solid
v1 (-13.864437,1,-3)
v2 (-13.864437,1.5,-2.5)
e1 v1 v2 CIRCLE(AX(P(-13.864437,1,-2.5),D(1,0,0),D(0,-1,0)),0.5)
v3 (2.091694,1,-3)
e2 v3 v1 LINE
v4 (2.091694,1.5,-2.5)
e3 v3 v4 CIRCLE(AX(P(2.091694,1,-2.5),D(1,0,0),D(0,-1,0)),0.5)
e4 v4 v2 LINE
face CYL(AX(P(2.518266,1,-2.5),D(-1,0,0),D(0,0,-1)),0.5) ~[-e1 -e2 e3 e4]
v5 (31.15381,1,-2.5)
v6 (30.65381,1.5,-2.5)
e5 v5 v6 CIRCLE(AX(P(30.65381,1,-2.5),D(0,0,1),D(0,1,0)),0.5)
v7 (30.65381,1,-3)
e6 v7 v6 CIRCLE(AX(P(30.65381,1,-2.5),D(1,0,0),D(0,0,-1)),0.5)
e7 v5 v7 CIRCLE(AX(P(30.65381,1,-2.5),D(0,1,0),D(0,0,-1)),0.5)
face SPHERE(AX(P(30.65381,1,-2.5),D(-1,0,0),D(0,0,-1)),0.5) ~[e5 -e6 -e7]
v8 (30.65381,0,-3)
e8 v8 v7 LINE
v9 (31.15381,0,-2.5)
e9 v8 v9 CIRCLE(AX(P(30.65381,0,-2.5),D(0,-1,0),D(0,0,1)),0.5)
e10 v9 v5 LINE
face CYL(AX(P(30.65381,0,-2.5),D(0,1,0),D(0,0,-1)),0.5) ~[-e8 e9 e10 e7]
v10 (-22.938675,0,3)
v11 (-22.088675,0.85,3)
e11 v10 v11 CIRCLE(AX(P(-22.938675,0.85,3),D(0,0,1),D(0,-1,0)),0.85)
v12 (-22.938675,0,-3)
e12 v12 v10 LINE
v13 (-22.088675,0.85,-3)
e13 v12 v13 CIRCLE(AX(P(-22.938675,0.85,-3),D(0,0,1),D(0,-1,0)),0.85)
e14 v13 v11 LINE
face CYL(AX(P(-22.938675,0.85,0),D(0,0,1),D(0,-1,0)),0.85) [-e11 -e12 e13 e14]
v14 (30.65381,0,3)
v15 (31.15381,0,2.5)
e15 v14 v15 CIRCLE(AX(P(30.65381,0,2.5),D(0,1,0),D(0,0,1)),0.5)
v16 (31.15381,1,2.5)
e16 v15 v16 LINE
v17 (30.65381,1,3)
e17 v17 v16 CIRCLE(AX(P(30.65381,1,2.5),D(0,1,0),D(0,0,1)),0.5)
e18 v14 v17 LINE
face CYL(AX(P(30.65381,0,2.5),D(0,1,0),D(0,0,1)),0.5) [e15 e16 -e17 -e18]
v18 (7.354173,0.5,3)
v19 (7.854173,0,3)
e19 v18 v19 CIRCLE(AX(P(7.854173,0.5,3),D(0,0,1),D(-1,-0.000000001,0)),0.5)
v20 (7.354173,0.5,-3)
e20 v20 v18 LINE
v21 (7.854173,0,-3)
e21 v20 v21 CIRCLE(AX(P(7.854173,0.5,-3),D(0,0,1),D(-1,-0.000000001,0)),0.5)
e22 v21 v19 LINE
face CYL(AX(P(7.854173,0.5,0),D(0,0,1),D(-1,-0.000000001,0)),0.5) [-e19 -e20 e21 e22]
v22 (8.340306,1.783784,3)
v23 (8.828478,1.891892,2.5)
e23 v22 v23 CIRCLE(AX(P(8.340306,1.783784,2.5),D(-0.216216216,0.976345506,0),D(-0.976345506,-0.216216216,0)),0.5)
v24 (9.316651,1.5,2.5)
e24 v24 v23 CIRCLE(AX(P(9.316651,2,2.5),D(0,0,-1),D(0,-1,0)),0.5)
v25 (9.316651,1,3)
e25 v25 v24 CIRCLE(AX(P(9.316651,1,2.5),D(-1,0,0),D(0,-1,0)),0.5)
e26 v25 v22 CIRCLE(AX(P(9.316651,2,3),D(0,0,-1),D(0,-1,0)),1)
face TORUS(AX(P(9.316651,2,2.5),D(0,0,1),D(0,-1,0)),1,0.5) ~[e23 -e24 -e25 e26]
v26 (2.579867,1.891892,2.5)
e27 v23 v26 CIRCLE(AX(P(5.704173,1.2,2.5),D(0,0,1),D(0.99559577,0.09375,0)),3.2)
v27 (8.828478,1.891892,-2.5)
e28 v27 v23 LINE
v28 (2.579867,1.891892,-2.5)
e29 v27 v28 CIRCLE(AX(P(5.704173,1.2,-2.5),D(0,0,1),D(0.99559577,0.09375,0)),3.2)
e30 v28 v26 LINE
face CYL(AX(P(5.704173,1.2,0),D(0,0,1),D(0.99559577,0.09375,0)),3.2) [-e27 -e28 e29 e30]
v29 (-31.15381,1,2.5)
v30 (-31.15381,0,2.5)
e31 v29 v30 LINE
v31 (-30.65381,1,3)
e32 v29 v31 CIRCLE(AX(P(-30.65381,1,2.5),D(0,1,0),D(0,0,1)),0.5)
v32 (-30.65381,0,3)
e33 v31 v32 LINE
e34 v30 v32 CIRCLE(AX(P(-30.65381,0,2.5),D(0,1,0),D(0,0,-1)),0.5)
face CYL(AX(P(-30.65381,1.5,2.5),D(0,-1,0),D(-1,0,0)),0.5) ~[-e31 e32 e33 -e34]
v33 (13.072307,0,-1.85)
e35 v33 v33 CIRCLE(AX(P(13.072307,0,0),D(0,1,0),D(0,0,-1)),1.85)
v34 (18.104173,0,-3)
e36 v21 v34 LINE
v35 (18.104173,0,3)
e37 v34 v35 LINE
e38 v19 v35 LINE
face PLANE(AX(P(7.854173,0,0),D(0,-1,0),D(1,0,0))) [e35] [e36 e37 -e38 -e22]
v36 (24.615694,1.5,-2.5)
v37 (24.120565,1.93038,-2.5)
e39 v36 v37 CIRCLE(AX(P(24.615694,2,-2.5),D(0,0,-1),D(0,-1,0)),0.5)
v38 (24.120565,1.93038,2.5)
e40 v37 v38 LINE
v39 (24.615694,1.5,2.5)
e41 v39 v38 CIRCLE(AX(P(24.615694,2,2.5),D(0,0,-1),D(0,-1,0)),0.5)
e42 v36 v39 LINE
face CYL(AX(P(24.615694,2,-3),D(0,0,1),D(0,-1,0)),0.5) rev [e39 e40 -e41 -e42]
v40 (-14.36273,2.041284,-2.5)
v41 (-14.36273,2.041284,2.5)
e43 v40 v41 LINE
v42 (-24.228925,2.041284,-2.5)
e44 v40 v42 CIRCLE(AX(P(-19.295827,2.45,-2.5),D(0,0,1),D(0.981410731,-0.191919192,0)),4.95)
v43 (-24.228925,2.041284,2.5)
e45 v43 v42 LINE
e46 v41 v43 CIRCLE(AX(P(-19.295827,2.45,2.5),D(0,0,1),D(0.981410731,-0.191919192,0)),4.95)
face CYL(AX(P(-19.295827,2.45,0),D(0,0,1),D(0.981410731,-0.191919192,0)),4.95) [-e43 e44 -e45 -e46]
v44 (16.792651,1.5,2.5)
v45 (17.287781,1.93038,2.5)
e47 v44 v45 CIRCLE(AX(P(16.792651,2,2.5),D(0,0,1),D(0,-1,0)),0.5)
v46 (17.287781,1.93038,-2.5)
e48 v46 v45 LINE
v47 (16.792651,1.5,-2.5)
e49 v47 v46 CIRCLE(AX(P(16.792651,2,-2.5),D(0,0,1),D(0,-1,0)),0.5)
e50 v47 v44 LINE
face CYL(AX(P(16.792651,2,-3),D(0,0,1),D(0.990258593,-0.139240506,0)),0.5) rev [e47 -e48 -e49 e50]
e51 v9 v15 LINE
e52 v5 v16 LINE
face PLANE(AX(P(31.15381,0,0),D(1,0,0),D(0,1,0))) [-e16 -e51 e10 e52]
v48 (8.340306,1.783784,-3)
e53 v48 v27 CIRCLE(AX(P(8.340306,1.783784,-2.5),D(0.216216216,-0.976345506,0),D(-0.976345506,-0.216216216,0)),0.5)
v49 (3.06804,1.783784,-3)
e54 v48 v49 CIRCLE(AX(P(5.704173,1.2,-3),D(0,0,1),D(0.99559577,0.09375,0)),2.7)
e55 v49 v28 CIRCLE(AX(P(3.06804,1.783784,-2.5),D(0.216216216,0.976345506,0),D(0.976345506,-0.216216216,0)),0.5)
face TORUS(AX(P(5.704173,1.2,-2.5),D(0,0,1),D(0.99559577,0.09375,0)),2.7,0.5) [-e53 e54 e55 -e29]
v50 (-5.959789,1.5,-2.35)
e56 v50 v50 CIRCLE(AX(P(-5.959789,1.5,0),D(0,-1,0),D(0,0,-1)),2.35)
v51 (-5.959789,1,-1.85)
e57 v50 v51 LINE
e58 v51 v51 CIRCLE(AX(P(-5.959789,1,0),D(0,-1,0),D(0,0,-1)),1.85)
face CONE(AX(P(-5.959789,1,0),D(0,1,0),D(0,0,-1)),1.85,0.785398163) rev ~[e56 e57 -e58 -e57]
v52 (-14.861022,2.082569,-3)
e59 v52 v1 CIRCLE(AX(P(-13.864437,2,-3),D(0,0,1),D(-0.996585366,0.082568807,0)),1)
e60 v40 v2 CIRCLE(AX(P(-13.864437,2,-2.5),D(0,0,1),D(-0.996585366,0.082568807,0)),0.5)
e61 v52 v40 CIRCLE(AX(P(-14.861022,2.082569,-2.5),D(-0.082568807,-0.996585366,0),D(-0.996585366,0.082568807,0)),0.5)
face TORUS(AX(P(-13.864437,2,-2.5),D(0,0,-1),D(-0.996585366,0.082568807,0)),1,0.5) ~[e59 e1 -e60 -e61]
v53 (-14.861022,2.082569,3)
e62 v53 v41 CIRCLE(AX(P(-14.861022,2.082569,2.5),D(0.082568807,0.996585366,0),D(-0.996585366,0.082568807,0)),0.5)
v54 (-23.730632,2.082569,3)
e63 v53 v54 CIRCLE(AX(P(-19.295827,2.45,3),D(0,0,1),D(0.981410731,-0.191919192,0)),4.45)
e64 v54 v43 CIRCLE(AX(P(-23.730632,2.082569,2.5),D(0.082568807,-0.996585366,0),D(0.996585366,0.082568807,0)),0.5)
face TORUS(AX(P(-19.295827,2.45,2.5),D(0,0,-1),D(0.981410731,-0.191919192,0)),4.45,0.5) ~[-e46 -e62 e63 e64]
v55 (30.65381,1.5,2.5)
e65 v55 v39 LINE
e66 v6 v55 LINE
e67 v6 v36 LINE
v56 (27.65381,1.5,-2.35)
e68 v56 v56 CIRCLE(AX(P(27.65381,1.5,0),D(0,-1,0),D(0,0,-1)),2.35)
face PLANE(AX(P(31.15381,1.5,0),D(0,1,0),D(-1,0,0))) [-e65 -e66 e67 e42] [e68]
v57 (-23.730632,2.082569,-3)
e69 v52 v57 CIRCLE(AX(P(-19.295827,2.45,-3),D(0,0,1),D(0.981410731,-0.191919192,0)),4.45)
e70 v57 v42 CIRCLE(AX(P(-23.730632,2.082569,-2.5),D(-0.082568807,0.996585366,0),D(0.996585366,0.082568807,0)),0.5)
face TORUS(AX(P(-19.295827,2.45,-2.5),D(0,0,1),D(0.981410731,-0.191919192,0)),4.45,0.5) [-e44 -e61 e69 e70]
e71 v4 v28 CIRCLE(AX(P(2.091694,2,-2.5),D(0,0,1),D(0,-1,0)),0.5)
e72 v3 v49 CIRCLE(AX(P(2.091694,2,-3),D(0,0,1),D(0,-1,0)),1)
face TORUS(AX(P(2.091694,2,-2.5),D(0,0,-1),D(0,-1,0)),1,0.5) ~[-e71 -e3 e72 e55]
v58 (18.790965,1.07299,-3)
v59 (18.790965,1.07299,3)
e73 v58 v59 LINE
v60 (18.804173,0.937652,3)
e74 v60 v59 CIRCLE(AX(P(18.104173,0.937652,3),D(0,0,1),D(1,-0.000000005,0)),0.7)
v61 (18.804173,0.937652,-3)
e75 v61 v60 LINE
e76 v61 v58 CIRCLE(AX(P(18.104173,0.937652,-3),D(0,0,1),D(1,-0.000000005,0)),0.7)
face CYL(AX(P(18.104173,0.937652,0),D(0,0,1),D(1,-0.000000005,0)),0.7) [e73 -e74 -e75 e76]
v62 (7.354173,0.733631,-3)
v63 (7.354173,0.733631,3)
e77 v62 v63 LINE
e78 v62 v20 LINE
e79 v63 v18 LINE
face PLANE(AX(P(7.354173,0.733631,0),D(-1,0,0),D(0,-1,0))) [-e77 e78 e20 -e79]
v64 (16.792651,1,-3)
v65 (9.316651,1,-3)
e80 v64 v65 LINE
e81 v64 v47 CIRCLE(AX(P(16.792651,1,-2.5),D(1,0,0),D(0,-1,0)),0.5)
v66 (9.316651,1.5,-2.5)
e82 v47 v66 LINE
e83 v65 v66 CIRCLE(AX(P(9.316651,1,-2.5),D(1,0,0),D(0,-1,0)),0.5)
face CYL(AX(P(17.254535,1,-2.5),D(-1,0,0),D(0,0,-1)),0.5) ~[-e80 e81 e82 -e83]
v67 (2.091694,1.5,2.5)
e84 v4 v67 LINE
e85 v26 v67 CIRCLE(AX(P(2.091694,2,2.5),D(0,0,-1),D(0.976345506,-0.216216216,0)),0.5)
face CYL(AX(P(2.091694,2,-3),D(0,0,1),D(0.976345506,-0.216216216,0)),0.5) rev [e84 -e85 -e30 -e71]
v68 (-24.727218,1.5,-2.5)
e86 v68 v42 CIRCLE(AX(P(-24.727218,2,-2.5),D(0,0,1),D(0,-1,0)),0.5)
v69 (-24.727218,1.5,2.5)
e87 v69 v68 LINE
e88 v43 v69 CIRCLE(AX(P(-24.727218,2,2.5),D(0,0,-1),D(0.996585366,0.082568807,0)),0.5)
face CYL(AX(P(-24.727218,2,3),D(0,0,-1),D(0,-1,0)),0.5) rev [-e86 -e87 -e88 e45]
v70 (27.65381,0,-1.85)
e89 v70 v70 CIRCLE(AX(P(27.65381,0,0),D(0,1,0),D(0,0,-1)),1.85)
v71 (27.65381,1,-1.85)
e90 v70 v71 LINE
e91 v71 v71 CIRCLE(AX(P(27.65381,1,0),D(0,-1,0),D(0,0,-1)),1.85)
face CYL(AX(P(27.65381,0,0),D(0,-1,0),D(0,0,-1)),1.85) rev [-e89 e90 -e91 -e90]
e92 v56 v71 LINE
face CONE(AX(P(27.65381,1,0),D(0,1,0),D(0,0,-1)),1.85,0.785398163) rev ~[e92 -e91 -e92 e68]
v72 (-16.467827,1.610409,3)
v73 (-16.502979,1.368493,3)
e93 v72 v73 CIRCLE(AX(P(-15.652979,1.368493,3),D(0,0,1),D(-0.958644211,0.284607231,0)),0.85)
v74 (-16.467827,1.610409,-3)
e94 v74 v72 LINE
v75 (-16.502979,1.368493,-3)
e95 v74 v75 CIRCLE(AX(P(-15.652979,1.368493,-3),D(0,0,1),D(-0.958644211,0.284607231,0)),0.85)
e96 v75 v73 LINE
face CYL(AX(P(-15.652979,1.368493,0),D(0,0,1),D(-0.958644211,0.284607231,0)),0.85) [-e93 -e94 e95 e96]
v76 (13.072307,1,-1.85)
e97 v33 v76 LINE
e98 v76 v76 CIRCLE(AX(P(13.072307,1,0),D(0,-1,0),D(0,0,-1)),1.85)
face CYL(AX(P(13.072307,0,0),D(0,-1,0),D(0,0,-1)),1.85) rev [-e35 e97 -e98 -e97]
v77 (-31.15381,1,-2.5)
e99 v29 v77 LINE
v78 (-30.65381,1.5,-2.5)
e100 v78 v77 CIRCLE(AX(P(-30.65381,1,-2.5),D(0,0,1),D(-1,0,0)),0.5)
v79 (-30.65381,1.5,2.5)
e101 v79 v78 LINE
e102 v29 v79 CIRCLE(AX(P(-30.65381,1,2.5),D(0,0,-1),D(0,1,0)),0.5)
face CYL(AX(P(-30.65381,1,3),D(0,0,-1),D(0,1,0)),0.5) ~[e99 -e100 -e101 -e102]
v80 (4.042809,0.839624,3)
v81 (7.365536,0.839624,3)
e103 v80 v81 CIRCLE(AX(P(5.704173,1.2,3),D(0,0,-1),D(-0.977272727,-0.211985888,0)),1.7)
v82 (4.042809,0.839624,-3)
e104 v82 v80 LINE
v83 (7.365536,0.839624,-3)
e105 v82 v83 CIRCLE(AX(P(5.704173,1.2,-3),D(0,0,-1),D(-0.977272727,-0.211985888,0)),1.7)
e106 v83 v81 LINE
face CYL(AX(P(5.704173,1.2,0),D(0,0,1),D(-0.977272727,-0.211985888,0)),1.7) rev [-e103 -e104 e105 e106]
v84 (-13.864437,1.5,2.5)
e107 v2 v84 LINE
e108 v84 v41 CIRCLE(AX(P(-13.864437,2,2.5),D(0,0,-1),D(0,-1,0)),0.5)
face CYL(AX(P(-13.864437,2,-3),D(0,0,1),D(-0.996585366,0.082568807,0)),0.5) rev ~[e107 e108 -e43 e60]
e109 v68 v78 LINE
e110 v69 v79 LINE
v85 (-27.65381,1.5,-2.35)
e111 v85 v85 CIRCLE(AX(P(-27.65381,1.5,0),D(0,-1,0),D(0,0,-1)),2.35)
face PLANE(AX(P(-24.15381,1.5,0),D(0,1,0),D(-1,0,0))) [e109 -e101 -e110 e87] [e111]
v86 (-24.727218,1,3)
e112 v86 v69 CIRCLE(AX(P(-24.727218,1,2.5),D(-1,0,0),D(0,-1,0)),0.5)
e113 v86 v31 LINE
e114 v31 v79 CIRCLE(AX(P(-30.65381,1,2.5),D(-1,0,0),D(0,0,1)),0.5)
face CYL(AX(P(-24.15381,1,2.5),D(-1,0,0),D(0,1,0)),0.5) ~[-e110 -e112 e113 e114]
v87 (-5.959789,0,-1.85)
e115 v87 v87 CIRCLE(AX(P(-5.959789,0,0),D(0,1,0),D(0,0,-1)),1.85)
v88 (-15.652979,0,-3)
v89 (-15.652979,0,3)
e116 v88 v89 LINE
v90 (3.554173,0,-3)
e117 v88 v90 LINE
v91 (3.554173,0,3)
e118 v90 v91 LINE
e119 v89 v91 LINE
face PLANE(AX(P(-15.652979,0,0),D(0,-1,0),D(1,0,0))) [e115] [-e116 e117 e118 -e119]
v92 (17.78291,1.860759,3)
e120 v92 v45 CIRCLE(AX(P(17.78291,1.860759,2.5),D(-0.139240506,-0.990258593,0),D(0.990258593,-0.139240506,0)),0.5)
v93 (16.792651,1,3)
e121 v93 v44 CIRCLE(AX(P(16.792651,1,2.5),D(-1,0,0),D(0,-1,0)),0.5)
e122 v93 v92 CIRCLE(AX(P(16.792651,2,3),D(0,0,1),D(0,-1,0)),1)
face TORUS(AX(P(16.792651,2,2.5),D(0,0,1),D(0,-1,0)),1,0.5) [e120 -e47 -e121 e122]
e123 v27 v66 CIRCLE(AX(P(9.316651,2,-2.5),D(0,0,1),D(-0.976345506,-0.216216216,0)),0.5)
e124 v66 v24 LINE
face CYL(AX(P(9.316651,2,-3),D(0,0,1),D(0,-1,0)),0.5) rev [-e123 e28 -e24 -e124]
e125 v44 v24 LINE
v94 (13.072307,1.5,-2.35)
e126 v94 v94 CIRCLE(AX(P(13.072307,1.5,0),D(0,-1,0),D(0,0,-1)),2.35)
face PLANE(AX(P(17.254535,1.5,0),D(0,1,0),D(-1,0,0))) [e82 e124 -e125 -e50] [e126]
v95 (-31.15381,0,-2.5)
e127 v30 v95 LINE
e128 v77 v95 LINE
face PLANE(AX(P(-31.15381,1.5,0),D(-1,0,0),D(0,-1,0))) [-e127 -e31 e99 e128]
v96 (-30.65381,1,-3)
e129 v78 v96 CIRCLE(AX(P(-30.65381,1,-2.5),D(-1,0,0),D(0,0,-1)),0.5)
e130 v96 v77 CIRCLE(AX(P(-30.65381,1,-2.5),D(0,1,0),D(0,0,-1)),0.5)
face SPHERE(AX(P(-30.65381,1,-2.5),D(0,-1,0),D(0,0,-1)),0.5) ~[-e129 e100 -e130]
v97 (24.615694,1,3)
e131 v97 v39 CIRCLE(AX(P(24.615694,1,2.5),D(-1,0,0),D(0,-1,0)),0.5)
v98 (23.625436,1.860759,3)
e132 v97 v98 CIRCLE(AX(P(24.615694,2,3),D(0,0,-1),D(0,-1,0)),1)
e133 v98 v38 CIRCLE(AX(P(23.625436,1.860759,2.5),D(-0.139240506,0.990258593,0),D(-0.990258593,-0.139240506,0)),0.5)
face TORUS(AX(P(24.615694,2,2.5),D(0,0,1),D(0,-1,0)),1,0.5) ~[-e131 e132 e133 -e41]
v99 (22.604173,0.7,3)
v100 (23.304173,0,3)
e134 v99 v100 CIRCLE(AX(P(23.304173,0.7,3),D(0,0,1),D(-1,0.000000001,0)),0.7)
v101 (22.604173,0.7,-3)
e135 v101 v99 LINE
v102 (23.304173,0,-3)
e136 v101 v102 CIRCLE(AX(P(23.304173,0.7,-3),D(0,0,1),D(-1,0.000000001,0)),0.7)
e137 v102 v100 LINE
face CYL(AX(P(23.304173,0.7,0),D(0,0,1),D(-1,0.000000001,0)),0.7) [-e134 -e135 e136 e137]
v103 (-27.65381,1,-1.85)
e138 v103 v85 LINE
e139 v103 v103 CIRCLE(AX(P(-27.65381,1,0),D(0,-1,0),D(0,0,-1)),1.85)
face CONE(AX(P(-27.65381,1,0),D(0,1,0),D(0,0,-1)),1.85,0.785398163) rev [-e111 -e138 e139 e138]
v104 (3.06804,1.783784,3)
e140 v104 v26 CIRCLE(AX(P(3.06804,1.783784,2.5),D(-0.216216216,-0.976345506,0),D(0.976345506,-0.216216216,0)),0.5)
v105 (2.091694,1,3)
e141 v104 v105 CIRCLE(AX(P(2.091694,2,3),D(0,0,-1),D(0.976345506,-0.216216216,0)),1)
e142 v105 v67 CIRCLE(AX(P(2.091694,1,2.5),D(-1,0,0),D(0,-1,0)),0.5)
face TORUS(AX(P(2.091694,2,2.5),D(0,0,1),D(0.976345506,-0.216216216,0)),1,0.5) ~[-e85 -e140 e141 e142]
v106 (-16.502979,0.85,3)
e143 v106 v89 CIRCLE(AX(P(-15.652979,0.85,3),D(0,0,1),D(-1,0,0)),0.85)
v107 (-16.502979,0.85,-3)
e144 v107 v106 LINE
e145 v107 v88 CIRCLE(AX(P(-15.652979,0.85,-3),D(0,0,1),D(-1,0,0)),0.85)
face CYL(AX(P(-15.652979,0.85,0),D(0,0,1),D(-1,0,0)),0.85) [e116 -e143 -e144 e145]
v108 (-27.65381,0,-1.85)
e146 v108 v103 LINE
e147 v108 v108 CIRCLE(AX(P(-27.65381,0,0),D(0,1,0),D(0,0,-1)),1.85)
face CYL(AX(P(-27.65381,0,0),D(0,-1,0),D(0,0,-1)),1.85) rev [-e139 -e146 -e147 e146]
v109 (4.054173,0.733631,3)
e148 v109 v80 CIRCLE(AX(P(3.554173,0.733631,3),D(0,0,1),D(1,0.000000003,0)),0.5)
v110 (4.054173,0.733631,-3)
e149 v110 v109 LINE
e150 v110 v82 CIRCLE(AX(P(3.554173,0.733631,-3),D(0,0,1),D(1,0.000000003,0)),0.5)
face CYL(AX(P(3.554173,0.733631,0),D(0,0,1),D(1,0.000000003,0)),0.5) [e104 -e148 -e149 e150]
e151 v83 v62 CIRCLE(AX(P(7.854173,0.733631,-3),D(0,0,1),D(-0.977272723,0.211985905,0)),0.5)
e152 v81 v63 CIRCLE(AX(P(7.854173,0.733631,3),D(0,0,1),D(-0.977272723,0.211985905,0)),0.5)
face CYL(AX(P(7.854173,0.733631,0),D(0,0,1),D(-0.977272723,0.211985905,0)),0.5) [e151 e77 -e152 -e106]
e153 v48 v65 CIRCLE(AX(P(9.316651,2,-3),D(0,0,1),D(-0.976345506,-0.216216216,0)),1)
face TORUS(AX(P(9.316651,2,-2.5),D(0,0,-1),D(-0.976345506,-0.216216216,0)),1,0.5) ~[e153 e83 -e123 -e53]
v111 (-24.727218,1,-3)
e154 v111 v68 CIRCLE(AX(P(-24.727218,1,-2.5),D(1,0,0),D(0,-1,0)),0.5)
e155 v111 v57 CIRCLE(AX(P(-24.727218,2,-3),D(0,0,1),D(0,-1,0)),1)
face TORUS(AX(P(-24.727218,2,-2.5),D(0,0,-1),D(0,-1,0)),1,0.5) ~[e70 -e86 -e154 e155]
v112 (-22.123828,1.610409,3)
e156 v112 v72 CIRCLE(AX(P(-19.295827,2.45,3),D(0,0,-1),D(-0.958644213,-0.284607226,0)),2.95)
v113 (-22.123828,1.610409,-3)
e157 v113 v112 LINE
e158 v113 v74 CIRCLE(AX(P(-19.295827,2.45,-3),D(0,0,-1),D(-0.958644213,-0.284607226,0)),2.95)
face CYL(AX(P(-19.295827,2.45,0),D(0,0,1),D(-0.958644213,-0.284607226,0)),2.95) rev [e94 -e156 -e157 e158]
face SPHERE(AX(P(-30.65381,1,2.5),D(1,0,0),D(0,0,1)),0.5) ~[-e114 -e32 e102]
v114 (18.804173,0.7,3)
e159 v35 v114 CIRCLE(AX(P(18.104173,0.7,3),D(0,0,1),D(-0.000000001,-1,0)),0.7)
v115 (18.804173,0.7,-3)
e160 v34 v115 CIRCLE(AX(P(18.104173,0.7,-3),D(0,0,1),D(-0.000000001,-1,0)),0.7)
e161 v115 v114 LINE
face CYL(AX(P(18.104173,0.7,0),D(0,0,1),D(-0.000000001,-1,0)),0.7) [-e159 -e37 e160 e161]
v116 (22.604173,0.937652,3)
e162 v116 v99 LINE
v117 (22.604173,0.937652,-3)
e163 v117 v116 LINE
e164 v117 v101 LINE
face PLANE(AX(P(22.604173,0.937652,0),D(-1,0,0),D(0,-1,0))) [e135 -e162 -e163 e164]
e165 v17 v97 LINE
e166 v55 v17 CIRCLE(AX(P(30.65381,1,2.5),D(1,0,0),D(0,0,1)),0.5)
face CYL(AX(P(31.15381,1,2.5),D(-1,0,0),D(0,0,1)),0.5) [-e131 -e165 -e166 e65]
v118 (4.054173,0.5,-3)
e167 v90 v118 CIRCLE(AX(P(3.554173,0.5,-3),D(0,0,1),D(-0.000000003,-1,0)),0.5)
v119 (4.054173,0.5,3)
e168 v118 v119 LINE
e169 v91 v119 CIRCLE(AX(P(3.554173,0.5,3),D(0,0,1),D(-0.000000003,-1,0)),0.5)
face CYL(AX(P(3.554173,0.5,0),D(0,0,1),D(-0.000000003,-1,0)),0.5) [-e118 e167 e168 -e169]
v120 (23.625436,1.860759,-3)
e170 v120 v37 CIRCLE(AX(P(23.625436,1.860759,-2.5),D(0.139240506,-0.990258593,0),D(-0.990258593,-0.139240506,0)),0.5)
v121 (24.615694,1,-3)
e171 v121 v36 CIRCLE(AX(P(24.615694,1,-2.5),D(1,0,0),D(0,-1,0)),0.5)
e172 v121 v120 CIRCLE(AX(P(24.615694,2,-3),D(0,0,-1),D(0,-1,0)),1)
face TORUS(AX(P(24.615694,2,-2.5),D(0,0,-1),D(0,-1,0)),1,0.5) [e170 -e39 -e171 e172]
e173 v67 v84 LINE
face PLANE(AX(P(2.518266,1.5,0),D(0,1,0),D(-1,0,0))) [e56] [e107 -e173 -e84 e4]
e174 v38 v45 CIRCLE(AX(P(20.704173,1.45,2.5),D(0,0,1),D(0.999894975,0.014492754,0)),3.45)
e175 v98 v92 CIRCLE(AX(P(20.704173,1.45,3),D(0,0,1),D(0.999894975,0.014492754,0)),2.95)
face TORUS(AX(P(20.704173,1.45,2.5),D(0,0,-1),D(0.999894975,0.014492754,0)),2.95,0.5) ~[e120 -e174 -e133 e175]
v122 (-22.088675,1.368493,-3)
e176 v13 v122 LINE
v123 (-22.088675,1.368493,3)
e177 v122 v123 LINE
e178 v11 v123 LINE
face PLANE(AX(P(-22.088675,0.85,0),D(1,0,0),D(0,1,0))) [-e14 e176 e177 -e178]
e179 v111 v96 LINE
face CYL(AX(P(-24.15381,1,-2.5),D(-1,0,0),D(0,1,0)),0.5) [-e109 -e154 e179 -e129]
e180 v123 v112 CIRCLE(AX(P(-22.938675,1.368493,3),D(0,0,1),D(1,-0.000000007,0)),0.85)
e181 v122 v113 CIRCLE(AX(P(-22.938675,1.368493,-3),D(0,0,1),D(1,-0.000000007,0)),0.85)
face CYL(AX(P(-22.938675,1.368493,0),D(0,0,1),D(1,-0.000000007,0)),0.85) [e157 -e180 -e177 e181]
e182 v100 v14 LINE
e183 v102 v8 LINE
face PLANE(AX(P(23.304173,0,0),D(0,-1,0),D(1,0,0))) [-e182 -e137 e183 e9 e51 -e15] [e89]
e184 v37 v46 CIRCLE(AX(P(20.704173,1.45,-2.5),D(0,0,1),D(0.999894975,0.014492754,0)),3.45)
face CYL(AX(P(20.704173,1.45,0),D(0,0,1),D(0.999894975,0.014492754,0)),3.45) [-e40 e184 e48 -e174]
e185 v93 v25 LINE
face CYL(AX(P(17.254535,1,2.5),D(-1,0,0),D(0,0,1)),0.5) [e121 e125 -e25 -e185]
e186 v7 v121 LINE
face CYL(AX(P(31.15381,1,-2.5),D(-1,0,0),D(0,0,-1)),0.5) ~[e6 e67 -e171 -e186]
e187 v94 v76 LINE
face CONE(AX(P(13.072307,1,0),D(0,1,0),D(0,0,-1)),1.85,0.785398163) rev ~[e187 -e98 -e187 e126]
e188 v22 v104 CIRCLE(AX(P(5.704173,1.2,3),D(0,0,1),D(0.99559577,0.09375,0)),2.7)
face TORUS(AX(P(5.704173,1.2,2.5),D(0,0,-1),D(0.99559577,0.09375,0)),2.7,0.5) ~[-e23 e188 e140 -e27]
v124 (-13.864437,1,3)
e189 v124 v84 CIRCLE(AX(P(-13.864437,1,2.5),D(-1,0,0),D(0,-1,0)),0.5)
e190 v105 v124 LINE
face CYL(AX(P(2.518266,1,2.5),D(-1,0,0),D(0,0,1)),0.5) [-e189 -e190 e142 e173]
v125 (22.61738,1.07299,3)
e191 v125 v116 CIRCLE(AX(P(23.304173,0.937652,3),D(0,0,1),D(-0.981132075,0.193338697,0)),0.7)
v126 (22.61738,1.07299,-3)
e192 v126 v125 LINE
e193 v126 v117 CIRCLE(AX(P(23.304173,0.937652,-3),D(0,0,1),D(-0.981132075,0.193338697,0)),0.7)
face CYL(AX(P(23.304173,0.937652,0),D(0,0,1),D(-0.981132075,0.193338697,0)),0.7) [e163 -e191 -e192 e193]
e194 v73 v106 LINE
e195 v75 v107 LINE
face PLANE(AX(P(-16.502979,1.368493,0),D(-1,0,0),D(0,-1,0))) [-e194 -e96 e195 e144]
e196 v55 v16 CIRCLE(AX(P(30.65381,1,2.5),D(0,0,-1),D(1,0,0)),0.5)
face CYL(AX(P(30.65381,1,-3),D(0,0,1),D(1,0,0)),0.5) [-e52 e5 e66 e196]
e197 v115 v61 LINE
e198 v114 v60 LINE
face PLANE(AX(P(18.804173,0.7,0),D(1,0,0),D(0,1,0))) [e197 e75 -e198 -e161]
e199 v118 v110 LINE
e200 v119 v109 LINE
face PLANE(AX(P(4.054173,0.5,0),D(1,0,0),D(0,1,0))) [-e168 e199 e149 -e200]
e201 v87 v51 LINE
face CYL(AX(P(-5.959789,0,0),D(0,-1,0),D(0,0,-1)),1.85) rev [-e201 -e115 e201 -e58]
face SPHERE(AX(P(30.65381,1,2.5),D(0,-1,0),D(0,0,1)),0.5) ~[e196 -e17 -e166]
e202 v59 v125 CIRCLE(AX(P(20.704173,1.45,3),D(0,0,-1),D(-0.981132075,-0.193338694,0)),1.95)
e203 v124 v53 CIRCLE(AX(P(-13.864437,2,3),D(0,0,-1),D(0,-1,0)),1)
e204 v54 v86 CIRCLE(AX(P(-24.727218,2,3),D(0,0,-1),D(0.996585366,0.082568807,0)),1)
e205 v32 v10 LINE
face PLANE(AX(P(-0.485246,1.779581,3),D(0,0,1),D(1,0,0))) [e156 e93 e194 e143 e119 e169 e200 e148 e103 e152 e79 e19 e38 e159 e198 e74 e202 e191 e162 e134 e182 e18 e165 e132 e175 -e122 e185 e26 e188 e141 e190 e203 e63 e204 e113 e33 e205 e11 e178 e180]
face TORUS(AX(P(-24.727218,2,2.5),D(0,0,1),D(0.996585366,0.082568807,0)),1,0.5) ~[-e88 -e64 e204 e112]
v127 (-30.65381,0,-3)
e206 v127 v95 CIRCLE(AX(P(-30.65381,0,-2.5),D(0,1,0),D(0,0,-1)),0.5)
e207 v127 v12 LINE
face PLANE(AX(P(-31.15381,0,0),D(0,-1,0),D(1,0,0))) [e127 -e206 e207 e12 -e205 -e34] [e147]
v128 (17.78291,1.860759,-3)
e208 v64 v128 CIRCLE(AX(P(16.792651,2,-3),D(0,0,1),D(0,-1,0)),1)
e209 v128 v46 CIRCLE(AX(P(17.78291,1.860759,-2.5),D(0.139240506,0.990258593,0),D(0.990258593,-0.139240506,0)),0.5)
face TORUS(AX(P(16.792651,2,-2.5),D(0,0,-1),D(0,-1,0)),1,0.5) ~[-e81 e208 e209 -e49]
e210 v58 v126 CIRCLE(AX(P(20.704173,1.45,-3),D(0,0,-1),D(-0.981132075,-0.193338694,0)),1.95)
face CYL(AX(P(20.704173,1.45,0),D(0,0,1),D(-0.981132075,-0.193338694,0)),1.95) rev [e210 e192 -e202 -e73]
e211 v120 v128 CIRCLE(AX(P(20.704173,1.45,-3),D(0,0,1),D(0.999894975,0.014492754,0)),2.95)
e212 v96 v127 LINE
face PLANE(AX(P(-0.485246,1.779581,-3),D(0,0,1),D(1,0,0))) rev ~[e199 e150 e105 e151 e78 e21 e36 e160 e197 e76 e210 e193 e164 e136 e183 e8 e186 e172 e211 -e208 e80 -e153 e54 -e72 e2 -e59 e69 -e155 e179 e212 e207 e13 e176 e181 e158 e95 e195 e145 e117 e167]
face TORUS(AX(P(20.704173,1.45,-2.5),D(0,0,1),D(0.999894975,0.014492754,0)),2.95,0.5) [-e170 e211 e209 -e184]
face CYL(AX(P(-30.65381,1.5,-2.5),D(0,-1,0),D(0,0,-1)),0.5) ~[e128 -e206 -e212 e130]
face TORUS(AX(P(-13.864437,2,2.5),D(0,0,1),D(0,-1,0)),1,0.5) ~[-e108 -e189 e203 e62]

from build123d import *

# Parameters (mm, degrees)
BOSS_EXTRUDE1_DEPTH = 3
CUT_EXTRUDE2_REACH  = 34.161
SKETCH2_R           = 1.85
CHAMFER2_SIZE       = 0.5
FILLET1_R           = 0.5


with BuildPart() as part:
    # Sketch1 → Boss-Extrude1 (new, symmetric)
    with BuildSketch(Plane.XY):
        with BuildLine():
            Line((-31.153810391, 0), (-22.93867528, 0))
            ThreePointArc((-22.93867528, 0), (-22.337634516, 0.248959236), (-22.08867528, 0.85))
            Line((-22.08867528, 0.85), (-22.08867528, 1.36849254))
            ThreePointArc((-22.08867528, 1.36849254), (-22.09750929, 1.490720925), (-22.123827699, 1.610408683))
            ThreePointArc((-22.123827699, 1.610408683), (-19.295827271, 5.4), (-16.467826843, 1.610408683))
            ThreePointArc((-16.467826843, 1.610408683), (-16.494145252, 1.490720925), (-16.502979262, 1.36849254))
            Line((-16.502979262, 1.36849254), (-16.502979262, 0.85))
            ThreePointArc((-16.502979262, 0.85), (-16.254020026, 0.248959236), (-15.652979262, 0))
            Line((-15.652979262, 0), (3.554172729, 0))
            ThreePointArc((3.554172729, 0), (3.90772612, 0.146446609), (4.054172729, 0.5))
            Line((4.054172729, 0.5), (4.054172729, 0.733631047))
            ThreePointArc((4.054172729, 0.733631047), (4.051323703, 0.786931226), (4.042809093, 0.839623991))
            ThreePointArc((4.042809093, 0.839623991), (5.704172729, 2.9), (7.365536366, 0.839623991))
            ThreePointArc((7.365536366, 0.839623991), (7.357021755, 0.786931226), (7.354172729, 0.733631047))
            Line((7.354172729, 0.733631047), (7.354172729, 0.5))
            ThreePointArc((7.354172729, 0.5), (7.500619339, 0.146446609), (7.854172729, 0))
            Line((7.854172729, 0), (18.104172729, 0))
            ThreePointArc((18.104172729, 0), (18.599147476, 0.205025253), (18.804172729, 0.7))
            Line((18.804172729, 0.7), (18.804172729, 0.937652462))
            ThreePointArc((18.804172729, 0.937652462), (18.800863018, 1.005642472), (18.790965182, 1.072989547))
            ThreePointArc((18.790965182, 1.072989547), (20.704172729, 3.4), (22.617380276, 1.072989547))
            ThreePointArc((22.617380276, 1.072989547), (22.60748244, 1.005642472), (22.604172729, 0.937652462))
            Line((22.604172729, 0.937652462), (22.604172729, 0.7))
            ThreePointArc((22.604172729, 0.7), (22.809197982, 0.205025253), (23.304172729, 0))
            Line((23.304172729, 0), (31.153810391, 0))
            Line((31.153810391, 0), (31.153810391, 1.5))
            Line((31.153810391, 1.5), (24.153810391, 1.5))
            ThreePointArc((24.153810391, 1.5), (20.704172729, 4.9), (17.254535067, 1.5))
            Line((17.254535067, 1.5), (8.890079194, 1.5))
            ThreePointArc((8.890079194, 1.5), (5.704172729, 4.4), (2.518266265, 1.5))
            Line((2.518266265, 1.5), (-14.43784415, 1.5))
            ThreePointArc((-14.43784415, 1.5), (-19.295827271, 7.4), (-24.153810391, 1.5))
            Line((-24.153810391, 1.5), (-31.153810391, 1.5))
            Line((-31.153810391, 1.5), (-31.153810391, 0))
        make_face()
    extrude(amount=BOSS_EXTRUDE1_DEPTH, both=True)

    # Sketch2 → Cut-Extrude2 (cut, up to next)
    with BuildSketch(Plane(origin=(0, 0, 0), x_dir=(1, 0, 0), z_dir=(0, 1, 0)), mode=Mode.PRIVATE) as cut_extrude2_sk1:
        with Locations(Location((-27.653810391, 0, 0), (0, 0, 90))):
            Circle(SKETCH2_R)
    cut_extrude2_tool1 = extrude(cut_extrude2_sk1.sketch, amount=CUT_EXTRUDE2_REACH, mode=Mode.PRIVATE) & part.part
    # Sketch2 → Cut-Extrude2 (cut, up to next)
    with BuildSketch(Plane(origin=(0, 0, 0), x_dir=(1, 0, 0), z_dir=(0, 1, 0)), mode=Mode.PRIVATE) as cut_extrude2_sk2:
        with Locations(Location((-5.959788943, 0, 0), (0, 0, 90))):
            Circle(SKETCH2_R)
    cut_extrude2_tool2 = extrude(cut_extrude2_sk2.sketch, amount=CUT_EXTRUDE2_REACH, mode=Mode.PRIVATE) & part.part
    # Sketch2 → Cut-Extrude2 (cut, up to next)
    with BuildSketch(Plane(origin=(0, 0, 0), x_dir=(1, 0, 0), z_dir=(0, 1, 0)), mode=Mode.PRIVATE) as cut_extrude2_sk3:
        with Locations(Location((27.653810391, 0, 0), (0, 0, 90))):
            Circle(SKETCH2_R)
    cut_extrude2_tool3 = extrude(cut_extrude2_sk3.sketch, amount=CUT_EXTRUDE2_REACH, mode=Mode.PRIVATE) & part.part
    # Sketch2 → Cut-Extrude2 (cut, up to next)
    with BuildSketch(Plane(origin=(0, 0, 0), x_dir=(1, 0, 0), z_dir=(0, 1, 0)), mode=Mode.PRIVATE) as cut_extrude2_sk4:
        with Locations(Location((13.07230713, 0, 0), (0, 0, 90))):
            Circle(SKETCH2_R)
    cut_extrude2_tool4 = extrude(cut_extrude2_sk4.sketch, amount=CUT_EXTRUDE2_REACH, mode=Mode.PRIVATE) & part.part
    add(cut_extrude2_tool1.solids().sort_by_distance((-27.65381, 0, 0))[0], mode=Mode.SUBTRACT)
    add(cut_extrude2_tool2.solids().sort_by_distance((-5.959789, 0, 0))[0], mode=Mode.SUBTRACT)
    add(cut_extrude2_tool3.solids().sort_by_distance((27.65381, 0, 0))[0], mode=Mode.SUBTRACT)
    add(cut_extrude2_tool4.solids().sort_by_distance((13.072307, 0, 0))[0], mode=Mode.SUBTRACT)

    # Chamfer2
    chamfer2_edges = [part.edges().sort_by_distance(p)[0] for p in [
        (-27.653810391, 1.5, 1.85),
        (-5.959788943, 1.5, 1.85),
        (13.07230713, 1.5, 1.85),
        (27.653810391, 1.5, 1.85),
    ]]
    chamfer(chamfer2_edges, length=CHAMFER2_SIZE)

    # Fillet1
    fillet1_edges = [part.edges().sort_by_distance(p)[0] for p in [
        (5.704172729, 4.4, 3),
        (31.153810391, 0.75, 3),
        (27.653810391, 1.5, 3),
        (-5.959788943, 1.5, 3),
        (-19.295827271, 7.4, 3),
        (-27.653810391, 1.5, 3),
        (-31.153810391, 0.75, 3),
        (27.653810391, 1.5, -3),
        (31.153810391, 0.75, -3),
        (-31.153810391, 0.75, -3),
        (-27.653810391, 1.5, -3),
        (-19.295827271, 7.4, -3),
        (-5.959788943, 1.5, -3),
        (5.704172729, 4.4, -3),
        (13.07230713, 1.5, -3),
        (20.704172729, 4.9, -3),
        (20.704172729, 4.9, 3),
        (24.153810391, 1.5, 0),
        (31.153810391, 1.5, 0),
        (-31.153810391, 1.5, 0),
        (-24.153810391, 1.5, 0),
        (-14.43784415, 1.5, 0),
        (2.518266265, 1.5, 0),
        (8.890079194, 1.5, 0),
        (17.254535067, 1.5, 0),
        (13.07230713, 1.5, 3),
    ]]
    fillet(fillet1_edges, radius=FILLET1_R)


solid = part.part
